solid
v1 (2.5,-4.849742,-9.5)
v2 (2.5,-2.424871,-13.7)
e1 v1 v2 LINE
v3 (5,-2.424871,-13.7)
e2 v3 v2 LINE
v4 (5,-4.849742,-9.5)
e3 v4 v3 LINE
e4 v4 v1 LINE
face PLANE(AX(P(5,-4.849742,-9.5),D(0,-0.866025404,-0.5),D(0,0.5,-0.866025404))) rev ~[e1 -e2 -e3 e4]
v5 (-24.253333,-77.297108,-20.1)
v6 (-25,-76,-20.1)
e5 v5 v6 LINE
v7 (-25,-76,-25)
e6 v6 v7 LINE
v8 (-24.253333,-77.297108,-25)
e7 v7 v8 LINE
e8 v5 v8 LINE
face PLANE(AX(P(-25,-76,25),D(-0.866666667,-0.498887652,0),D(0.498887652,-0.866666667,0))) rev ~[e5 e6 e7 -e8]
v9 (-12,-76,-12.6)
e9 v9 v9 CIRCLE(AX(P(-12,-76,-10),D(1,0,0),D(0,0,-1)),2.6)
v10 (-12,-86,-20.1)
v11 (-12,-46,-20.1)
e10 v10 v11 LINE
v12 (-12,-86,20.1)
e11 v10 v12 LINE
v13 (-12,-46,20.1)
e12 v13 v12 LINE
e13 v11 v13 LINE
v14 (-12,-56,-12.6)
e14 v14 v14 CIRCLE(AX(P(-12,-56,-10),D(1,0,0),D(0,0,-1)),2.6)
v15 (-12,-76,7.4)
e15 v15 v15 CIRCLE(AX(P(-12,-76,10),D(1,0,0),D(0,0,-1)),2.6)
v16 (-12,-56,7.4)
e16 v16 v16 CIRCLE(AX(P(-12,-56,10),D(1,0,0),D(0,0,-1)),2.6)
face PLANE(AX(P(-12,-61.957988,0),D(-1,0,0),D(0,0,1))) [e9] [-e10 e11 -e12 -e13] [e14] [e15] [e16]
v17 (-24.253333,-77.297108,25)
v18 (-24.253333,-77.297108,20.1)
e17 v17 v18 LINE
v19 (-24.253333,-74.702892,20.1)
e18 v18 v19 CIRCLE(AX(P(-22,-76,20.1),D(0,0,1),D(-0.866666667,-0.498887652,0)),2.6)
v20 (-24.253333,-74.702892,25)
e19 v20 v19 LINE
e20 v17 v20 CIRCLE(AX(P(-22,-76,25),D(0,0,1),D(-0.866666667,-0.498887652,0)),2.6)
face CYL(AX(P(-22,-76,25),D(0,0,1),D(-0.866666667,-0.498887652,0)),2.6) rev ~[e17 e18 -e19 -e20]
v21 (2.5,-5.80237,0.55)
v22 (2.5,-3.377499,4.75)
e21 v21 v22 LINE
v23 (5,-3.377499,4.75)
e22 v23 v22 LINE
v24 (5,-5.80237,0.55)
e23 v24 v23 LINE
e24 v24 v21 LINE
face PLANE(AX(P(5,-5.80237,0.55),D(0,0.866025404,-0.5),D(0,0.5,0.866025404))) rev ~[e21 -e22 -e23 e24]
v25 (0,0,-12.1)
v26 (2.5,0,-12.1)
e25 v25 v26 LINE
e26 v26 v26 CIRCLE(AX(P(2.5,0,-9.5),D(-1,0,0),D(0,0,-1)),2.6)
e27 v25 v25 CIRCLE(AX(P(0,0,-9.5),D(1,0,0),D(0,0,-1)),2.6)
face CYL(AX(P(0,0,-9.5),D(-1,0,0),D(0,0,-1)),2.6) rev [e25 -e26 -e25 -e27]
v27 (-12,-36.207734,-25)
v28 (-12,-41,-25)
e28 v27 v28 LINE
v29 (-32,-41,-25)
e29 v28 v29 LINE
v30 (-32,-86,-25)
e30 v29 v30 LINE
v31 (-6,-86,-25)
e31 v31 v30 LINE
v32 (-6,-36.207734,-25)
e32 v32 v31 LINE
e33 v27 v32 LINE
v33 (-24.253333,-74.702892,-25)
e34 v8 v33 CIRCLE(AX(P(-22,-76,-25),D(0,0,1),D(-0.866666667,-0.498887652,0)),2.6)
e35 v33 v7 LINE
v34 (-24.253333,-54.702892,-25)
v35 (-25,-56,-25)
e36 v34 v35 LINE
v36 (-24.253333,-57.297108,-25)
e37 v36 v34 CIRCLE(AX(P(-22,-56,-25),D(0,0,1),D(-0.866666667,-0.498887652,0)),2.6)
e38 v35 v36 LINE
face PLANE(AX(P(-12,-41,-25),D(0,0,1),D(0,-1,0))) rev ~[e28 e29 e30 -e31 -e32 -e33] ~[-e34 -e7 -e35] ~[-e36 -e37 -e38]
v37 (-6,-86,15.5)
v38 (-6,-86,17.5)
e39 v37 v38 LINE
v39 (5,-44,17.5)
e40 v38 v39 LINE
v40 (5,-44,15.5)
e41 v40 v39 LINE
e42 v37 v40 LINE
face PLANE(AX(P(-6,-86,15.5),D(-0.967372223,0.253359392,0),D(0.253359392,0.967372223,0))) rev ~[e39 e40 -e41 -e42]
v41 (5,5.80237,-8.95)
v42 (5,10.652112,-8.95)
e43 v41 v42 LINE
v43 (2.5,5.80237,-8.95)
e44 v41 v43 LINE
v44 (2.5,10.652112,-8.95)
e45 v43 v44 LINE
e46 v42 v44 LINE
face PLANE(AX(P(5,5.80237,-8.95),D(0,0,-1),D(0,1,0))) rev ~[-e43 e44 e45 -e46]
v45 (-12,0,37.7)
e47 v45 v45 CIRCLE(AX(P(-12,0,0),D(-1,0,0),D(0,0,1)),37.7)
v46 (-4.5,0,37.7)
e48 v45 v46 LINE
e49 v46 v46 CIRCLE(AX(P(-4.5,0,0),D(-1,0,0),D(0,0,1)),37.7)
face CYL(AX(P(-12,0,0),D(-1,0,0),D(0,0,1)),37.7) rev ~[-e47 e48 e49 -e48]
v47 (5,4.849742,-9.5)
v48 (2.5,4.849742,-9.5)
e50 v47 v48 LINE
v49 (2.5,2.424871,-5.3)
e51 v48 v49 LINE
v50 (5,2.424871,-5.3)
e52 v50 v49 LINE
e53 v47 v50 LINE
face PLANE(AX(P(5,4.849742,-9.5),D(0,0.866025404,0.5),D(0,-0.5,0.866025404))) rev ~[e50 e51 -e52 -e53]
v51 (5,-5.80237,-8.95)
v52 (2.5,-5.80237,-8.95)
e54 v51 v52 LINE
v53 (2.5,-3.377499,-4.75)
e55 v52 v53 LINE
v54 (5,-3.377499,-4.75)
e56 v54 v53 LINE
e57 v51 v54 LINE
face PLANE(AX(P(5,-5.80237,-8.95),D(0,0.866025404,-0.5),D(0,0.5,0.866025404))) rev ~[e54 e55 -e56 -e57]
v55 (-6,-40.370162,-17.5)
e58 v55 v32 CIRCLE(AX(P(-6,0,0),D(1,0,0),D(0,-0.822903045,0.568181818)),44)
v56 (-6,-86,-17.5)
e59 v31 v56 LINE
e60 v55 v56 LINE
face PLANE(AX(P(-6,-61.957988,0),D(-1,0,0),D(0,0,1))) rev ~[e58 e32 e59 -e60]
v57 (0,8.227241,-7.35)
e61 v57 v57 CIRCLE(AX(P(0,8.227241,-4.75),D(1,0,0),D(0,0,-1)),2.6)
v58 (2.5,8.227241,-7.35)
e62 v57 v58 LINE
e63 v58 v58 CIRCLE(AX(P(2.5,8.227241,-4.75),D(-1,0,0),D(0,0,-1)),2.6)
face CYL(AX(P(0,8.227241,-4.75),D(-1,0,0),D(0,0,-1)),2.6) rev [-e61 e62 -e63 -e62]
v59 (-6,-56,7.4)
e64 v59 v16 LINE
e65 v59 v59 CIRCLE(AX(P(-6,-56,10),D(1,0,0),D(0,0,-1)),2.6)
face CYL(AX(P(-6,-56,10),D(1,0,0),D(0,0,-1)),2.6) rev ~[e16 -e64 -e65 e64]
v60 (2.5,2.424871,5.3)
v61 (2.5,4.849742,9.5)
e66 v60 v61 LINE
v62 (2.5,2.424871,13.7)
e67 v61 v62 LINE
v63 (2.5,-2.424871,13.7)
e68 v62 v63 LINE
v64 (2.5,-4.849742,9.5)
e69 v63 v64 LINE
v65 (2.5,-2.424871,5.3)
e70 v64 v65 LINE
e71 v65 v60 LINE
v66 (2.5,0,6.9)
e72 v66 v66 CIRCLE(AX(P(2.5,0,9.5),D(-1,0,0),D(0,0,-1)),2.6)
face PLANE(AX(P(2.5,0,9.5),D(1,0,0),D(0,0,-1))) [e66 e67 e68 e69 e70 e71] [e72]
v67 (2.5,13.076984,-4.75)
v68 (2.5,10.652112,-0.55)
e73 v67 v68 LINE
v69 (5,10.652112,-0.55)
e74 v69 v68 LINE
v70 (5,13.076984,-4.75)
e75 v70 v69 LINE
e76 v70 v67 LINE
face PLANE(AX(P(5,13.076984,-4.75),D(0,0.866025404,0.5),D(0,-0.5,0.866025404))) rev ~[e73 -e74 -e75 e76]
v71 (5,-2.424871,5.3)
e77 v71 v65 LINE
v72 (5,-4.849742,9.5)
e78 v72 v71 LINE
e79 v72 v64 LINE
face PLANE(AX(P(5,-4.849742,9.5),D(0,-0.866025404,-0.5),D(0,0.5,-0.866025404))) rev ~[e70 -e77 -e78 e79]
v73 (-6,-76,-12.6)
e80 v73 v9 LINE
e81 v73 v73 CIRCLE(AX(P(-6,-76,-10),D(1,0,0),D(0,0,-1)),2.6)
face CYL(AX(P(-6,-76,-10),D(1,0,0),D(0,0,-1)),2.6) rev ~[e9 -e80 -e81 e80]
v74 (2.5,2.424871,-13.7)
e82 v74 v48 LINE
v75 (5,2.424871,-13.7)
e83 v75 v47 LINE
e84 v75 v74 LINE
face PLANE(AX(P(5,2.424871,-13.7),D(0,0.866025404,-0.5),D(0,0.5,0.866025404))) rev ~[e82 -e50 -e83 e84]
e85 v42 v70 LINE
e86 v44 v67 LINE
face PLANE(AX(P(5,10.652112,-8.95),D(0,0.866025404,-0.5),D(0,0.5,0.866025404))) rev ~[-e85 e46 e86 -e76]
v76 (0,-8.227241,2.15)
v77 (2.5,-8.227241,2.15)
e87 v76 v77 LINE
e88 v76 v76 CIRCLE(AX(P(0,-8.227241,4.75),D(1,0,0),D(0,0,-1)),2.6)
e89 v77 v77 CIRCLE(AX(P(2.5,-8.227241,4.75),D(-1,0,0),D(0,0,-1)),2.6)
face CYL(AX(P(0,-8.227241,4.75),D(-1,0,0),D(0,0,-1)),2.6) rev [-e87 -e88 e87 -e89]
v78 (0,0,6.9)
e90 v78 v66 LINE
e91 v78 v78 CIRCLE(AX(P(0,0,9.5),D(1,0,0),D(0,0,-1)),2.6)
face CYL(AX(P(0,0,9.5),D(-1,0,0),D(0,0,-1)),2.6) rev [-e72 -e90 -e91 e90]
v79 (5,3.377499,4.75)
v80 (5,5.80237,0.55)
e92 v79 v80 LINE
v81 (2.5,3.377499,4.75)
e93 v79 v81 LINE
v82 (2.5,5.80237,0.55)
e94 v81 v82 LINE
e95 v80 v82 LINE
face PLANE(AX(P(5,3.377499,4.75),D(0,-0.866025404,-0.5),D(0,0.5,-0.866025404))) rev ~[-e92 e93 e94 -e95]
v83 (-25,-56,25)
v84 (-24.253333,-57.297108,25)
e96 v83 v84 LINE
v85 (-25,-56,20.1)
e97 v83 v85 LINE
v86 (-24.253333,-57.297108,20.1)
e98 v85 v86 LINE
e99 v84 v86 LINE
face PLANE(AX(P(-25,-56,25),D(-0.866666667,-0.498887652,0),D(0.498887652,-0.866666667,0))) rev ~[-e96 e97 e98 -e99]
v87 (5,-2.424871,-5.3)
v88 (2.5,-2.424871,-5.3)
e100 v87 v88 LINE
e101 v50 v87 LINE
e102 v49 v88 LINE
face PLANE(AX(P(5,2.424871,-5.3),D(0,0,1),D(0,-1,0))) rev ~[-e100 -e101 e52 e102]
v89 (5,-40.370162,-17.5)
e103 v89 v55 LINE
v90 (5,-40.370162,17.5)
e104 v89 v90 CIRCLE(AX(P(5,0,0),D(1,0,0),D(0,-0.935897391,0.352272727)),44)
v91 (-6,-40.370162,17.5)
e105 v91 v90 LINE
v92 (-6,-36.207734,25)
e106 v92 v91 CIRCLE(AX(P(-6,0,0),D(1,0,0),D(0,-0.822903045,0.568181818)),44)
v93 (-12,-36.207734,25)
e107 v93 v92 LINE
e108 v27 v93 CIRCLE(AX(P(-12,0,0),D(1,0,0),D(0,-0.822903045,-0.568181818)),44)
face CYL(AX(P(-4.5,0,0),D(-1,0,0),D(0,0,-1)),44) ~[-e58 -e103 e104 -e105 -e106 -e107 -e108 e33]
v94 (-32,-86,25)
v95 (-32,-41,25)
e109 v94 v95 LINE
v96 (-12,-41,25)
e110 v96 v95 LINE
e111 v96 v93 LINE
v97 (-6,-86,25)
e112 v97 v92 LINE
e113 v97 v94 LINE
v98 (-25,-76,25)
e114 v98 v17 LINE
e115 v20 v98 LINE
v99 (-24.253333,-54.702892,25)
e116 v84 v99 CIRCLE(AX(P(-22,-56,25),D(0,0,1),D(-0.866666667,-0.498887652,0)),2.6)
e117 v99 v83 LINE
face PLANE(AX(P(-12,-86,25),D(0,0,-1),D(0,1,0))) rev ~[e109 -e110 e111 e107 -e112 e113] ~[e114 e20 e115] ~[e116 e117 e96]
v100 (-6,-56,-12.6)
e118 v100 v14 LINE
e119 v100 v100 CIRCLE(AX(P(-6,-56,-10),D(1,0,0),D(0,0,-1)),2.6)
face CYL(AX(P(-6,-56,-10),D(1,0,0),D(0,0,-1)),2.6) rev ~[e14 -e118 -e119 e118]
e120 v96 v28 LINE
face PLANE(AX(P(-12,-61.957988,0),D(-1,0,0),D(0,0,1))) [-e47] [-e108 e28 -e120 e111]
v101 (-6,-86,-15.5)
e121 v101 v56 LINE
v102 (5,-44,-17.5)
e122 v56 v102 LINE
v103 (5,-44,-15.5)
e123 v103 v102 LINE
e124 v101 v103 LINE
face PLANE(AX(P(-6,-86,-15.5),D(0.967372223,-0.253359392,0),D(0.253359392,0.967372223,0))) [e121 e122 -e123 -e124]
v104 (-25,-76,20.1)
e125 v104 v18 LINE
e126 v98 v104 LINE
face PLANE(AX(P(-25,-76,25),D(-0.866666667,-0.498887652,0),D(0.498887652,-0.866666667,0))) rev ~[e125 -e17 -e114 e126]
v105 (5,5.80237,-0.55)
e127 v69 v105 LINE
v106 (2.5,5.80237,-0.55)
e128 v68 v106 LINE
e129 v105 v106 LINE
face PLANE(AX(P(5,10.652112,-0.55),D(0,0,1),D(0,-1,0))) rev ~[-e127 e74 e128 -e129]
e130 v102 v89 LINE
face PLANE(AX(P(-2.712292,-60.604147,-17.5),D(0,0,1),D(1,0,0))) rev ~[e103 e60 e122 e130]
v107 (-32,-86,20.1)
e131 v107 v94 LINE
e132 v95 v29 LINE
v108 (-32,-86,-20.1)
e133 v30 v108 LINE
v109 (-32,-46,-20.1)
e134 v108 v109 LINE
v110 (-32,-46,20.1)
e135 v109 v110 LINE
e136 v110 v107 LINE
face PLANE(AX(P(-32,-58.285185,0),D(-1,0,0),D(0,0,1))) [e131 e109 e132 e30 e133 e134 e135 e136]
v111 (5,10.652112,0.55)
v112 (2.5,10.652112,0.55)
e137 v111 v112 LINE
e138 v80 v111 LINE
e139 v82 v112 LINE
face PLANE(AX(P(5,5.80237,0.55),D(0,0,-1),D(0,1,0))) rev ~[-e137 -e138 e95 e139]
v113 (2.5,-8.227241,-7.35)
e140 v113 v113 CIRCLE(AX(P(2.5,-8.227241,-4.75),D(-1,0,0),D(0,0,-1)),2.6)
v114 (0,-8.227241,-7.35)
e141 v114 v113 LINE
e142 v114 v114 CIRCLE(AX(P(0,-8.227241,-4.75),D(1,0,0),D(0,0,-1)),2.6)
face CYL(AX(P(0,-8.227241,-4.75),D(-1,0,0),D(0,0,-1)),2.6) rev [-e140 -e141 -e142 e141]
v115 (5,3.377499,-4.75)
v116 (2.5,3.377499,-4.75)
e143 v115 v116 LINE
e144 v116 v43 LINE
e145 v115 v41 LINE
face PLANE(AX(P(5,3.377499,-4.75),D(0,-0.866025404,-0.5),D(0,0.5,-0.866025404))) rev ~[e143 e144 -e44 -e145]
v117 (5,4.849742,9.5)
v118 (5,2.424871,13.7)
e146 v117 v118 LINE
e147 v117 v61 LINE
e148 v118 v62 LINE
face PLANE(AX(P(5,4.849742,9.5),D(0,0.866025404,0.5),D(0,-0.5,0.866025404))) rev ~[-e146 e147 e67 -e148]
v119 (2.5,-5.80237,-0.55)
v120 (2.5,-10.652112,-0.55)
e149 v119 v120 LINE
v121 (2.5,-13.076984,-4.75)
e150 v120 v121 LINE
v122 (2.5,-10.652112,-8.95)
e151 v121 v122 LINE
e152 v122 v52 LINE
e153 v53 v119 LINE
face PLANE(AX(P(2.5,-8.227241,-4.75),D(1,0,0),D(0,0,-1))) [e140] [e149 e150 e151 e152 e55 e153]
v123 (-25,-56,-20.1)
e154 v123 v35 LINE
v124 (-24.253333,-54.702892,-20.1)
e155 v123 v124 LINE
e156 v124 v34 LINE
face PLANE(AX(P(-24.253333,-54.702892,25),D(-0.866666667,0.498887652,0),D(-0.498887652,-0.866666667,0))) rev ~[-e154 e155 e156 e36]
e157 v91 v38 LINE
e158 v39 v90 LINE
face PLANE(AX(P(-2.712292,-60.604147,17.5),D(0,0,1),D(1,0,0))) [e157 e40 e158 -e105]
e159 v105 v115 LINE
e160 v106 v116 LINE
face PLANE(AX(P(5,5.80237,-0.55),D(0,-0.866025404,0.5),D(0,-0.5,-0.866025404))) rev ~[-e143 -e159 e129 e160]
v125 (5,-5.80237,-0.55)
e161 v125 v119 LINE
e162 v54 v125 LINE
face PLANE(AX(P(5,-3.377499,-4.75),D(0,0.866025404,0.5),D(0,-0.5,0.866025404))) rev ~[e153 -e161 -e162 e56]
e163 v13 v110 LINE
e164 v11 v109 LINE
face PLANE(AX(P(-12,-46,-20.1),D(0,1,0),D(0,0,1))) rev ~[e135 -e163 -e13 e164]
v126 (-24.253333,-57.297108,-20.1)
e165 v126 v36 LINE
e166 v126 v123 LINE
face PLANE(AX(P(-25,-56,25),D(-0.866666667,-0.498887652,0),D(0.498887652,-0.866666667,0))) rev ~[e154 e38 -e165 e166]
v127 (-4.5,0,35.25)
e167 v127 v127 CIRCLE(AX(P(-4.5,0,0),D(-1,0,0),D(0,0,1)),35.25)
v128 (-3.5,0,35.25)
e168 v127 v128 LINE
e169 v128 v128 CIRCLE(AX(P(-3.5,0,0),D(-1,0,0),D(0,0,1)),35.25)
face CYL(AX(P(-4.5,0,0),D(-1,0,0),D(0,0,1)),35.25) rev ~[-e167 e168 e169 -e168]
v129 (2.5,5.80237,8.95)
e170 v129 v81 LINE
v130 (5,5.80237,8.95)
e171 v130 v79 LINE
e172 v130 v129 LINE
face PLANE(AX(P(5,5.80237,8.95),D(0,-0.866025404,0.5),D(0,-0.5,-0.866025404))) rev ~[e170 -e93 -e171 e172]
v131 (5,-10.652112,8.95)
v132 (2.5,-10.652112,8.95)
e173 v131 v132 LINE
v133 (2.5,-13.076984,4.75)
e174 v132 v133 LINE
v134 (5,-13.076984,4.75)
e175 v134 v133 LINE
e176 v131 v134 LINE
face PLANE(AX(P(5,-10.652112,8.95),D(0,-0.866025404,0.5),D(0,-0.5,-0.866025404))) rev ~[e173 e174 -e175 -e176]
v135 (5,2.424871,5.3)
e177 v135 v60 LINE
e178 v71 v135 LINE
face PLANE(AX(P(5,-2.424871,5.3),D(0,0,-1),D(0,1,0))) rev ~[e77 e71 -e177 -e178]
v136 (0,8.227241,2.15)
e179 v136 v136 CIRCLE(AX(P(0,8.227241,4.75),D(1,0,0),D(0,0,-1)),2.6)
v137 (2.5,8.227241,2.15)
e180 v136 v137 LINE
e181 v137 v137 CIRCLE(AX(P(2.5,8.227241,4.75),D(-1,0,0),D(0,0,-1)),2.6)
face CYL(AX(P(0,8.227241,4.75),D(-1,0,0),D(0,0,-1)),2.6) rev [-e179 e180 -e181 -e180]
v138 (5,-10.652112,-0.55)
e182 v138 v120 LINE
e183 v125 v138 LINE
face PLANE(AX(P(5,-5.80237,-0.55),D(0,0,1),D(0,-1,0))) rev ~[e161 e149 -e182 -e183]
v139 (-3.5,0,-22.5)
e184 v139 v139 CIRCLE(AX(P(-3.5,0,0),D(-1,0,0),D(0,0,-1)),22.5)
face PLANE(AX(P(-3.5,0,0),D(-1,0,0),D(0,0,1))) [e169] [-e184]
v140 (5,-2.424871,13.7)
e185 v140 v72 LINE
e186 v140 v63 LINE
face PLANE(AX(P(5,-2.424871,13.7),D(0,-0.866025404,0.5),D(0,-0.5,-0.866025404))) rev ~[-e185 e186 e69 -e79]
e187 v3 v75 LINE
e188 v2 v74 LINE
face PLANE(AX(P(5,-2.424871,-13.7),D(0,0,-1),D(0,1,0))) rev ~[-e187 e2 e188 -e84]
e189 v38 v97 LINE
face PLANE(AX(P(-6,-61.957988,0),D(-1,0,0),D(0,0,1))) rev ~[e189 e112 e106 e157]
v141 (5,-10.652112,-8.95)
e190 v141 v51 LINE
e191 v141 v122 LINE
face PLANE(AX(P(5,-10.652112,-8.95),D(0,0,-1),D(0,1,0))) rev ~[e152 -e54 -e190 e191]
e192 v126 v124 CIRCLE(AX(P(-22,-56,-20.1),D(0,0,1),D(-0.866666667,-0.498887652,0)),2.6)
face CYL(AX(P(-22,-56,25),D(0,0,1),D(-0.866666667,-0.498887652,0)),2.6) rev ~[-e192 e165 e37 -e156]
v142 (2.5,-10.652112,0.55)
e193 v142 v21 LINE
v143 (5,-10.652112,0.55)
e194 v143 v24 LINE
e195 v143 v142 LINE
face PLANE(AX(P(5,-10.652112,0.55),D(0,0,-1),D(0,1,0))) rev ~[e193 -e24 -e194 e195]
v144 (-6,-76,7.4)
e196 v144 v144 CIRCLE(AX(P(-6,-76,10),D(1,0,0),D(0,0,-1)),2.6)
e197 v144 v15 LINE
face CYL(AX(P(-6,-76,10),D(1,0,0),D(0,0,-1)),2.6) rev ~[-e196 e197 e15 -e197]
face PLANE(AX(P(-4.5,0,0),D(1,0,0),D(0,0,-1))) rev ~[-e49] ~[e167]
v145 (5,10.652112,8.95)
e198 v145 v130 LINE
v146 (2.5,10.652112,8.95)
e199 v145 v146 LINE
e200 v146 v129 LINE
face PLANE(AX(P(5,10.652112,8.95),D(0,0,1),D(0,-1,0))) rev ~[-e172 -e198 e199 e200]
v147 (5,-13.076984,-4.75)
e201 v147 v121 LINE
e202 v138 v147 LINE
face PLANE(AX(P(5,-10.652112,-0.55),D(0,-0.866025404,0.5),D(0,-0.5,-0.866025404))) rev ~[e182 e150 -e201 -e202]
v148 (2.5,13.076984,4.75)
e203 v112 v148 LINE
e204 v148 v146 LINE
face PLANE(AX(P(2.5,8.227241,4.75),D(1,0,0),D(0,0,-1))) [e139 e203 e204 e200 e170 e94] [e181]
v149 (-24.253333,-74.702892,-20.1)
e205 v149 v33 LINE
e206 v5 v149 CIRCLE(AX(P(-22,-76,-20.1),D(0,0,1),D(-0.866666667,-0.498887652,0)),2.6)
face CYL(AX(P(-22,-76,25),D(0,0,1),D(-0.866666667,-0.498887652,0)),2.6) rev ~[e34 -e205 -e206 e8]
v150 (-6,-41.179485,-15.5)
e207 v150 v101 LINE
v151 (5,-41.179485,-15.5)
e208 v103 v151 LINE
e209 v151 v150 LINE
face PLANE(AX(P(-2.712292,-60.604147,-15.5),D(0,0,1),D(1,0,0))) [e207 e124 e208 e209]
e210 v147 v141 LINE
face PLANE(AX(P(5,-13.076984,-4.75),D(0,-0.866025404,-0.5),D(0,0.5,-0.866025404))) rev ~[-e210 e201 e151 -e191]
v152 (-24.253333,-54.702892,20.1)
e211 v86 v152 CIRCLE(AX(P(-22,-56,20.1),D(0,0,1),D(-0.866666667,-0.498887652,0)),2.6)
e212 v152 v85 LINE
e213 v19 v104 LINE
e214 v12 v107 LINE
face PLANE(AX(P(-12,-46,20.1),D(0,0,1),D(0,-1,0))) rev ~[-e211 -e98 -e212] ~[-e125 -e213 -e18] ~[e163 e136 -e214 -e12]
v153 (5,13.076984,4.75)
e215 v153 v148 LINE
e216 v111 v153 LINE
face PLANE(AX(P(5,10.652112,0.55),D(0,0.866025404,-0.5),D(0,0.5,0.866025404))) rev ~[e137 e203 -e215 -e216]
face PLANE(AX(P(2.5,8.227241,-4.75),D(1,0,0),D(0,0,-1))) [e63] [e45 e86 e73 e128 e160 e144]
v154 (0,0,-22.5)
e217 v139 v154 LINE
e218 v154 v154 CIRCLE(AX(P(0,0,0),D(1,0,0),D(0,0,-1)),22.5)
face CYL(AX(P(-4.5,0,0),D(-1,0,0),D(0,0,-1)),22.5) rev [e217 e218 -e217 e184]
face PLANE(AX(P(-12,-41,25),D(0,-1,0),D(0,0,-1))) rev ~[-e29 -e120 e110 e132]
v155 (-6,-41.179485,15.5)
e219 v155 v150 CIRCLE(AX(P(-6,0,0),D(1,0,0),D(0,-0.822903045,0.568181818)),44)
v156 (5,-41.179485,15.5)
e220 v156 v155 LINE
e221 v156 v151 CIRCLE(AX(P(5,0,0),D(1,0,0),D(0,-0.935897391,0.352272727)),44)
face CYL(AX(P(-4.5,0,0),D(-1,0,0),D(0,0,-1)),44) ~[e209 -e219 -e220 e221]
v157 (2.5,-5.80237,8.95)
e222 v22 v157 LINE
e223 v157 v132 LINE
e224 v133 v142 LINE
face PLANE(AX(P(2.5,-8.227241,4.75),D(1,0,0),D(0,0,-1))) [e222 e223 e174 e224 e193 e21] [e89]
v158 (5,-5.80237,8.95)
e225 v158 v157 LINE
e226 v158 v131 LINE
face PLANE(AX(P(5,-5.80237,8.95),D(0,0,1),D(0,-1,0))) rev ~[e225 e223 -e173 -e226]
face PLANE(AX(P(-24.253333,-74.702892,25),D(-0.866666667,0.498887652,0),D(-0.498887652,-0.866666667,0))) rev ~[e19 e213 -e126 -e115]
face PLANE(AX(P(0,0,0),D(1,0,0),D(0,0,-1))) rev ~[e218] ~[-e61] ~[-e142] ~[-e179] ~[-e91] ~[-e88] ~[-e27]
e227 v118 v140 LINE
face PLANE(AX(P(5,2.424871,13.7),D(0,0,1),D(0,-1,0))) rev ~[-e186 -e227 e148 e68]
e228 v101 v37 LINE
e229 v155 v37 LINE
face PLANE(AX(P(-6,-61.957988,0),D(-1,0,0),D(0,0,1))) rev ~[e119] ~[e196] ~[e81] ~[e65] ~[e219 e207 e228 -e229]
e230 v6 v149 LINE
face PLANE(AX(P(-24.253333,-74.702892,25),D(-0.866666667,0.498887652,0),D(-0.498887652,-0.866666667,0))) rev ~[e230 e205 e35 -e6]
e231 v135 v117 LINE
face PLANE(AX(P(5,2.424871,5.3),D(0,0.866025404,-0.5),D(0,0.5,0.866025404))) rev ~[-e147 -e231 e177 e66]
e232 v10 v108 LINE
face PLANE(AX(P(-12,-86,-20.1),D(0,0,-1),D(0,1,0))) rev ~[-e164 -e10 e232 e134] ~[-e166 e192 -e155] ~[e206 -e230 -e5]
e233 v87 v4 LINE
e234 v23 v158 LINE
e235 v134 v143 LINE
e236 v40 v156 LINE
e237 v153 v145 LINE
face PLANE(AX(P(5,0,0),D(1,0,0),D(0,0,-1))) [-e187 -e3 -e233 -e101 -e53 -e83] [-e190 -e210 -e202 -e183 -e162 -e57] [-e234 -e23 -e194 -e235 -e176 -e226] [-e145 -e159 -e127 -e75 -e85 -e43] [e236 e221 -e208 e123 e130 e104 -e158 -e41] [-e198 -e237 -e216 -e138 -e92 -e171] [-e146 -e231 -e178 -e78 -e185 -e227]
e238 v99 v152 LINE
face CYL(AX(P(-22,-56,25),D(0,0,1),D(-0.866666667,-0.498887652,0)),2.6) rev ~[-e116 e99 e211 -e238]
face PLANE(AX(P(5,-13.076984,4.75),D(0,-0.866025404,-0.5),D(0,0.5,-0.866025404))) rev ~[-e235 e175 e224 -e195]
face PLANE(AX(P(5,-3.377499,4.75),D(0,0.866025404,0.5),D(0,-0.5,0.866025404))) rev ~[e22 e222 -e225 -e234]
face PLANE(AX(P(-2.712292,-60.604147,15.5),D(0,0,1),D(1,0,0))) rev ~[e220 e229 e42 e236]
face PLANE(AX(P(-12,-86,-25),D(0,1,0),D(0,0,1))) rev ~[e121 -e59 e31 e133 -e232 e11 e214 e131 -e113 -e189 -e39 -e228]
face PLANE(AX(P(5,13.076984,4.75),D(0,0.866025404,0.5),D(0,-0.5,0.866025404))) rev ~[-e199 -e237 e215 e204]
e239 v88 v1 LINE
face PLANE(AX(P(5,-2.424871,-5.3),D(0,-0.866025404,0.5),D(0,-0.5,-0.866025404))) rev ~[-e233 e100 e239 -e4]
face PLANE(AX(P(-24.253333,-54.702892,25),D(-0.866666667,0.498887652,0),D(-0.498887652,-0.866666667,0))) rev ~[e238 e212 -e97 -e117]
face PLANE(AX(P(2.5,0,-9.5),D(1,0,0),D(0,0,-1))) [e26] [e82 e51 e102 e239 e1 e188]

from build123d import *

# Parameters (mm, degrees)
SKETCH1_R                = 44
SKETCH1_R_2              = 2.6
BOSS_EXTRUDE1_DEPTH      = 5
BOSS_EXTRUDE2_START      = -4.5
SKETCH1_3_R              = 44
SKETCH1_3_R_2            = 22.5
BOSS_EXTRUDE2_DEPTH      = 4.5
BOSS_EXTRUDE3_START      = 7.5
SKETCH2_R                = 44
SKETCH2_R_2              = 37.7
BOSS_EXTRUDE3_DEPTH      = 7.5
BOSS_EXTRUDE4_DEPTH      = 6
SKETCH4_R                = 35.25
CUT_EXTRUDE1_DEPTH       = 1
BOSS_EXTRUDE5_DEPTH      = 20
BOSS_EXTRUDE7_DEPTH      = 1
BOSS_EXTRUDE7_DEPTH_BACK = 1
BOSS_EXTRUDE8_DEPTH      = 1
BOSS_EXTRUDE8_DEPTH_BACK = 1
SKETCH8_R                = 2.6
CUT_EXTRUDE2_DEPTH       = 101.039992003
CUT_EXTRUDE3_DEPTH       = 115.808536268
CUT_EXTRUDE4_DEPTH       = 2.5


with BuildPart() as part:
    # Sketch1 → Boss-Extrude1 (new body)
    with BuildSketch(Plane(origin=(0, 0, 0), x_dir=(0, 0, -1), z_dir=(1, 0, 0))):
        Circle(SKETCH1_R)
        with Locations((-4.75, -8.227241336)):
            Circle(SKETCH1_R_2, mode=Mode.SUBTRACT)
        with Locations((4.75, -8.227241336)):
            Circle(SKETCH1_R_2, mode=Mode.SUBTRACT)
        with Locations((9.5, 0)):
            Circle(SKETCH1_R_2, mode=Mode.SUBTRACT)
        with Locations((-9.5, 0)):
            Circle(SKETCH1_R_2, mode=Mode.SUBTRACT)
        with Locations((-4.75, 8.227241336)):
            Circle(SKETCH1_R_2, mode=Mode.SUBTRACT)
        with Locations((4.75, 8.227241336)):
            Circle(SKETCH1_R_2, mode=Mode.SUBTRACT)
    extrude(amount=BOSS_EXTRUDE1_DEPTH)

    # Sketch1<3> → Boss-Extrude2 (add)
    with BuildSketch(Plane(origin=(0, 0, 0), x_dir=(0, 0, -1), z_dir=(1, 0, 0)).offset(BOSS_EXTRUDE2_START)):
        Circle(SKETCH1_3_R)
        Circle(SKETCH1_3_R_2, mode=Mode.SUBTRACT)
    extrude(amount=BOSS_EXTRUDE2_DEPTH)

    # Sketch2 → Boss-Extrude3 (add)
    with BuildSketch(Plane.ZY.offset(4.5).offset(BOSS_EXTRUDE3_START)):
        Circle(SKETCH2_R)
        Circle(SKETCH2_R_2, mode=Mode.SUBTRACT)
    extrude(amount=-BOSS_EXTRUDE3_DEPTH)

    # Sketch3 → Boss-Extrude4 (add)
    with BuildSketch(Plane.ZY.offset(12)):
        with BuildLine():
            Line((-25, -86), (25, -86))
            Line((25, -86), (25, -36.20773398))
            ThreePointArc((25, -36.20773398), (0, -44), (-25, -36.20773398))
            Line((-25, -36.20773398), (-25, -86))
        make_face()
    extrude(amount=-BOSS_EXTRUDE4_DEPTH)

    # Sketch4 → Cut-Extrude1 (cut)
    with BuildSketch(Plane.ZY.offset(4.5)):
        Circle(SKETCH4_R)
    extrude(amount=-CUT_EXTRUDE1_DEPTH, mode=Mode.SUBTRACT)

    # Sketch5 → Boss-Extrude5 (add)
    with BuildSketch(Plane.ZY.offset(12)):
        Polygon((-25, -41), (-25, -86), (-20.1, -86), (-20.1, -46), (20.1, -46), (20.1, -86), (25, -86), (25, -41), align=None)
    extrude(amount=BOSS_EXTRUDE5_DEPTH)

    # Sketch6 → Boss-Extrude7 (add, two sides: drawn at the far end of the back side and taken through both)
    with BuildSketch(Plane.XY.offset(16.5).offset(-BOSS_EXTRUDE7_DEPTH_BACK)):
        Polygon((5, -40), (-6, -40), (-6, -86), (5, -44), align=None)
    extrude(amount=BOSS_EXTRUDE7_DEPTH + BOSS_EXTRUDE7_DEPTH_BACK)

    # Sketch7 → Boss-Extrude8 (add, two sides: drawn at the far end of the back side and taken through both)
    with BuildSketch(Plane(origin=(0, 0, -16.5), x_dir=(-1, 0, 0), z_dir=(0, 0, -1)).offset(-BOSS_EXTRUDE8_DEPTH_BACK)):
        Polygon((-5, -40), (6, -40), (6, -86), (-5, -44), align=None)
    extrude(amount=BOSS_EXTRUDE8_DEPTH + BOSS_EXTRUDE8_DEPTH_BACK)

    # Sketch8 → Cut-Extrude2 (cut, through all)
    with BuildSketch(Plane(origin=(-6, 0, 0), x_dir=(0, 0, -1), z_dir=(1, 0, 0))):
        with Locations((-10, -76)):
            Circle(SKETCH8_R)
        with Locations((10, -76)):
            Circle(SKETCH8_R)
        with Locations((-10, -56)):
            Circle(SKETCH8_R)
        with Locations((10, -56)):
            Circle(SKETCH8_R)
    extrude(amount=-CUT_EXTRUDE2_DEPTH, mode=Mode.SUBTRACT)

    # Sketch9 → Cut-Extrude3 (cut, through all)
    with BuildSketch(Plane.XY.offset(25)):
        with BuildLine():
            Line((-25, -56), (-24.253333333, -57.297107894))
            ThreePointArc((-24.253333333, -57.297107894), (-19.4, -56), (-24.253333333, -54.702892106))
            Line((-24.253333333, -54.702892106), (-25, -56))
        make_face()
        with BuildLine():
            Line((-25, -76), (-24.253333333, -77.297107894))
            ThreePointArc((-24.253333333, -77.297107894), (-19.4, -76), (-24.253333333, -74.702892106))
            Line((-24.253333333, -74.702892106), (-25, -76))
        make_face()
    extrude(amount=-CUT_EXTRUDE3_DEPTH, mode=Mode.SUBTRACT)

    # Sketch10 → Cut-Extrude4 (cut)
    with BuildSketch(Plane(origin=(5, 0, 0), x_dir=(0, 0, -1), z_dir=(1, 0, 0))):
        Polygon((9.5, -4.849742261), (13.7, -2.424871131), (13.7, 2.424871131), (9.5, 4.849742261), (5.3, 2.424871131), (5.3, -2.424871131), align=None)
        Polygon((8.95, 5.802370205), (8.95, 10.652112467), (4.75, 13.076983597), (0.55, 10.652112467), (0.55, 5.802370205), (4.75, 3.377499075), align=None)
        Polygon((0.55, -10.652112467), (4.75, -13.076983597), (8.95, -10.652112467), (8.95, -5.802370205), (4.75, -3.377499075), (0.55, -5.802370205), align=None)
        Polygon((-8.95, -5.802370205), (-8.95, -10.652112467), (-4.75, -13.076983597), (-0.55, -10.652112467), (-0.55, -5.802370205), (-4.75, -3.377499075), align=None)
        Polygon((-9.5, 4.849742261), (-13.7, 2.424871131), (-13.7, -2.424871131), (-9.5, -4.849742261), (-5.3, -2.424871131), (-5.3, 2.424871131), align=None)
        Polygon((-0.55, 10.652112467), (-4.75, 13.076983597), (-8.95, 10.652112467), (-8.95, 5.802370205), (-4.75, 3.377499075), (-0.55, 5.802370205), align=None)
    extrude(amount=-CUT_EXTRUDE4_DEPTH, mode=Mode.SUBTRACT)


solid = part.part
